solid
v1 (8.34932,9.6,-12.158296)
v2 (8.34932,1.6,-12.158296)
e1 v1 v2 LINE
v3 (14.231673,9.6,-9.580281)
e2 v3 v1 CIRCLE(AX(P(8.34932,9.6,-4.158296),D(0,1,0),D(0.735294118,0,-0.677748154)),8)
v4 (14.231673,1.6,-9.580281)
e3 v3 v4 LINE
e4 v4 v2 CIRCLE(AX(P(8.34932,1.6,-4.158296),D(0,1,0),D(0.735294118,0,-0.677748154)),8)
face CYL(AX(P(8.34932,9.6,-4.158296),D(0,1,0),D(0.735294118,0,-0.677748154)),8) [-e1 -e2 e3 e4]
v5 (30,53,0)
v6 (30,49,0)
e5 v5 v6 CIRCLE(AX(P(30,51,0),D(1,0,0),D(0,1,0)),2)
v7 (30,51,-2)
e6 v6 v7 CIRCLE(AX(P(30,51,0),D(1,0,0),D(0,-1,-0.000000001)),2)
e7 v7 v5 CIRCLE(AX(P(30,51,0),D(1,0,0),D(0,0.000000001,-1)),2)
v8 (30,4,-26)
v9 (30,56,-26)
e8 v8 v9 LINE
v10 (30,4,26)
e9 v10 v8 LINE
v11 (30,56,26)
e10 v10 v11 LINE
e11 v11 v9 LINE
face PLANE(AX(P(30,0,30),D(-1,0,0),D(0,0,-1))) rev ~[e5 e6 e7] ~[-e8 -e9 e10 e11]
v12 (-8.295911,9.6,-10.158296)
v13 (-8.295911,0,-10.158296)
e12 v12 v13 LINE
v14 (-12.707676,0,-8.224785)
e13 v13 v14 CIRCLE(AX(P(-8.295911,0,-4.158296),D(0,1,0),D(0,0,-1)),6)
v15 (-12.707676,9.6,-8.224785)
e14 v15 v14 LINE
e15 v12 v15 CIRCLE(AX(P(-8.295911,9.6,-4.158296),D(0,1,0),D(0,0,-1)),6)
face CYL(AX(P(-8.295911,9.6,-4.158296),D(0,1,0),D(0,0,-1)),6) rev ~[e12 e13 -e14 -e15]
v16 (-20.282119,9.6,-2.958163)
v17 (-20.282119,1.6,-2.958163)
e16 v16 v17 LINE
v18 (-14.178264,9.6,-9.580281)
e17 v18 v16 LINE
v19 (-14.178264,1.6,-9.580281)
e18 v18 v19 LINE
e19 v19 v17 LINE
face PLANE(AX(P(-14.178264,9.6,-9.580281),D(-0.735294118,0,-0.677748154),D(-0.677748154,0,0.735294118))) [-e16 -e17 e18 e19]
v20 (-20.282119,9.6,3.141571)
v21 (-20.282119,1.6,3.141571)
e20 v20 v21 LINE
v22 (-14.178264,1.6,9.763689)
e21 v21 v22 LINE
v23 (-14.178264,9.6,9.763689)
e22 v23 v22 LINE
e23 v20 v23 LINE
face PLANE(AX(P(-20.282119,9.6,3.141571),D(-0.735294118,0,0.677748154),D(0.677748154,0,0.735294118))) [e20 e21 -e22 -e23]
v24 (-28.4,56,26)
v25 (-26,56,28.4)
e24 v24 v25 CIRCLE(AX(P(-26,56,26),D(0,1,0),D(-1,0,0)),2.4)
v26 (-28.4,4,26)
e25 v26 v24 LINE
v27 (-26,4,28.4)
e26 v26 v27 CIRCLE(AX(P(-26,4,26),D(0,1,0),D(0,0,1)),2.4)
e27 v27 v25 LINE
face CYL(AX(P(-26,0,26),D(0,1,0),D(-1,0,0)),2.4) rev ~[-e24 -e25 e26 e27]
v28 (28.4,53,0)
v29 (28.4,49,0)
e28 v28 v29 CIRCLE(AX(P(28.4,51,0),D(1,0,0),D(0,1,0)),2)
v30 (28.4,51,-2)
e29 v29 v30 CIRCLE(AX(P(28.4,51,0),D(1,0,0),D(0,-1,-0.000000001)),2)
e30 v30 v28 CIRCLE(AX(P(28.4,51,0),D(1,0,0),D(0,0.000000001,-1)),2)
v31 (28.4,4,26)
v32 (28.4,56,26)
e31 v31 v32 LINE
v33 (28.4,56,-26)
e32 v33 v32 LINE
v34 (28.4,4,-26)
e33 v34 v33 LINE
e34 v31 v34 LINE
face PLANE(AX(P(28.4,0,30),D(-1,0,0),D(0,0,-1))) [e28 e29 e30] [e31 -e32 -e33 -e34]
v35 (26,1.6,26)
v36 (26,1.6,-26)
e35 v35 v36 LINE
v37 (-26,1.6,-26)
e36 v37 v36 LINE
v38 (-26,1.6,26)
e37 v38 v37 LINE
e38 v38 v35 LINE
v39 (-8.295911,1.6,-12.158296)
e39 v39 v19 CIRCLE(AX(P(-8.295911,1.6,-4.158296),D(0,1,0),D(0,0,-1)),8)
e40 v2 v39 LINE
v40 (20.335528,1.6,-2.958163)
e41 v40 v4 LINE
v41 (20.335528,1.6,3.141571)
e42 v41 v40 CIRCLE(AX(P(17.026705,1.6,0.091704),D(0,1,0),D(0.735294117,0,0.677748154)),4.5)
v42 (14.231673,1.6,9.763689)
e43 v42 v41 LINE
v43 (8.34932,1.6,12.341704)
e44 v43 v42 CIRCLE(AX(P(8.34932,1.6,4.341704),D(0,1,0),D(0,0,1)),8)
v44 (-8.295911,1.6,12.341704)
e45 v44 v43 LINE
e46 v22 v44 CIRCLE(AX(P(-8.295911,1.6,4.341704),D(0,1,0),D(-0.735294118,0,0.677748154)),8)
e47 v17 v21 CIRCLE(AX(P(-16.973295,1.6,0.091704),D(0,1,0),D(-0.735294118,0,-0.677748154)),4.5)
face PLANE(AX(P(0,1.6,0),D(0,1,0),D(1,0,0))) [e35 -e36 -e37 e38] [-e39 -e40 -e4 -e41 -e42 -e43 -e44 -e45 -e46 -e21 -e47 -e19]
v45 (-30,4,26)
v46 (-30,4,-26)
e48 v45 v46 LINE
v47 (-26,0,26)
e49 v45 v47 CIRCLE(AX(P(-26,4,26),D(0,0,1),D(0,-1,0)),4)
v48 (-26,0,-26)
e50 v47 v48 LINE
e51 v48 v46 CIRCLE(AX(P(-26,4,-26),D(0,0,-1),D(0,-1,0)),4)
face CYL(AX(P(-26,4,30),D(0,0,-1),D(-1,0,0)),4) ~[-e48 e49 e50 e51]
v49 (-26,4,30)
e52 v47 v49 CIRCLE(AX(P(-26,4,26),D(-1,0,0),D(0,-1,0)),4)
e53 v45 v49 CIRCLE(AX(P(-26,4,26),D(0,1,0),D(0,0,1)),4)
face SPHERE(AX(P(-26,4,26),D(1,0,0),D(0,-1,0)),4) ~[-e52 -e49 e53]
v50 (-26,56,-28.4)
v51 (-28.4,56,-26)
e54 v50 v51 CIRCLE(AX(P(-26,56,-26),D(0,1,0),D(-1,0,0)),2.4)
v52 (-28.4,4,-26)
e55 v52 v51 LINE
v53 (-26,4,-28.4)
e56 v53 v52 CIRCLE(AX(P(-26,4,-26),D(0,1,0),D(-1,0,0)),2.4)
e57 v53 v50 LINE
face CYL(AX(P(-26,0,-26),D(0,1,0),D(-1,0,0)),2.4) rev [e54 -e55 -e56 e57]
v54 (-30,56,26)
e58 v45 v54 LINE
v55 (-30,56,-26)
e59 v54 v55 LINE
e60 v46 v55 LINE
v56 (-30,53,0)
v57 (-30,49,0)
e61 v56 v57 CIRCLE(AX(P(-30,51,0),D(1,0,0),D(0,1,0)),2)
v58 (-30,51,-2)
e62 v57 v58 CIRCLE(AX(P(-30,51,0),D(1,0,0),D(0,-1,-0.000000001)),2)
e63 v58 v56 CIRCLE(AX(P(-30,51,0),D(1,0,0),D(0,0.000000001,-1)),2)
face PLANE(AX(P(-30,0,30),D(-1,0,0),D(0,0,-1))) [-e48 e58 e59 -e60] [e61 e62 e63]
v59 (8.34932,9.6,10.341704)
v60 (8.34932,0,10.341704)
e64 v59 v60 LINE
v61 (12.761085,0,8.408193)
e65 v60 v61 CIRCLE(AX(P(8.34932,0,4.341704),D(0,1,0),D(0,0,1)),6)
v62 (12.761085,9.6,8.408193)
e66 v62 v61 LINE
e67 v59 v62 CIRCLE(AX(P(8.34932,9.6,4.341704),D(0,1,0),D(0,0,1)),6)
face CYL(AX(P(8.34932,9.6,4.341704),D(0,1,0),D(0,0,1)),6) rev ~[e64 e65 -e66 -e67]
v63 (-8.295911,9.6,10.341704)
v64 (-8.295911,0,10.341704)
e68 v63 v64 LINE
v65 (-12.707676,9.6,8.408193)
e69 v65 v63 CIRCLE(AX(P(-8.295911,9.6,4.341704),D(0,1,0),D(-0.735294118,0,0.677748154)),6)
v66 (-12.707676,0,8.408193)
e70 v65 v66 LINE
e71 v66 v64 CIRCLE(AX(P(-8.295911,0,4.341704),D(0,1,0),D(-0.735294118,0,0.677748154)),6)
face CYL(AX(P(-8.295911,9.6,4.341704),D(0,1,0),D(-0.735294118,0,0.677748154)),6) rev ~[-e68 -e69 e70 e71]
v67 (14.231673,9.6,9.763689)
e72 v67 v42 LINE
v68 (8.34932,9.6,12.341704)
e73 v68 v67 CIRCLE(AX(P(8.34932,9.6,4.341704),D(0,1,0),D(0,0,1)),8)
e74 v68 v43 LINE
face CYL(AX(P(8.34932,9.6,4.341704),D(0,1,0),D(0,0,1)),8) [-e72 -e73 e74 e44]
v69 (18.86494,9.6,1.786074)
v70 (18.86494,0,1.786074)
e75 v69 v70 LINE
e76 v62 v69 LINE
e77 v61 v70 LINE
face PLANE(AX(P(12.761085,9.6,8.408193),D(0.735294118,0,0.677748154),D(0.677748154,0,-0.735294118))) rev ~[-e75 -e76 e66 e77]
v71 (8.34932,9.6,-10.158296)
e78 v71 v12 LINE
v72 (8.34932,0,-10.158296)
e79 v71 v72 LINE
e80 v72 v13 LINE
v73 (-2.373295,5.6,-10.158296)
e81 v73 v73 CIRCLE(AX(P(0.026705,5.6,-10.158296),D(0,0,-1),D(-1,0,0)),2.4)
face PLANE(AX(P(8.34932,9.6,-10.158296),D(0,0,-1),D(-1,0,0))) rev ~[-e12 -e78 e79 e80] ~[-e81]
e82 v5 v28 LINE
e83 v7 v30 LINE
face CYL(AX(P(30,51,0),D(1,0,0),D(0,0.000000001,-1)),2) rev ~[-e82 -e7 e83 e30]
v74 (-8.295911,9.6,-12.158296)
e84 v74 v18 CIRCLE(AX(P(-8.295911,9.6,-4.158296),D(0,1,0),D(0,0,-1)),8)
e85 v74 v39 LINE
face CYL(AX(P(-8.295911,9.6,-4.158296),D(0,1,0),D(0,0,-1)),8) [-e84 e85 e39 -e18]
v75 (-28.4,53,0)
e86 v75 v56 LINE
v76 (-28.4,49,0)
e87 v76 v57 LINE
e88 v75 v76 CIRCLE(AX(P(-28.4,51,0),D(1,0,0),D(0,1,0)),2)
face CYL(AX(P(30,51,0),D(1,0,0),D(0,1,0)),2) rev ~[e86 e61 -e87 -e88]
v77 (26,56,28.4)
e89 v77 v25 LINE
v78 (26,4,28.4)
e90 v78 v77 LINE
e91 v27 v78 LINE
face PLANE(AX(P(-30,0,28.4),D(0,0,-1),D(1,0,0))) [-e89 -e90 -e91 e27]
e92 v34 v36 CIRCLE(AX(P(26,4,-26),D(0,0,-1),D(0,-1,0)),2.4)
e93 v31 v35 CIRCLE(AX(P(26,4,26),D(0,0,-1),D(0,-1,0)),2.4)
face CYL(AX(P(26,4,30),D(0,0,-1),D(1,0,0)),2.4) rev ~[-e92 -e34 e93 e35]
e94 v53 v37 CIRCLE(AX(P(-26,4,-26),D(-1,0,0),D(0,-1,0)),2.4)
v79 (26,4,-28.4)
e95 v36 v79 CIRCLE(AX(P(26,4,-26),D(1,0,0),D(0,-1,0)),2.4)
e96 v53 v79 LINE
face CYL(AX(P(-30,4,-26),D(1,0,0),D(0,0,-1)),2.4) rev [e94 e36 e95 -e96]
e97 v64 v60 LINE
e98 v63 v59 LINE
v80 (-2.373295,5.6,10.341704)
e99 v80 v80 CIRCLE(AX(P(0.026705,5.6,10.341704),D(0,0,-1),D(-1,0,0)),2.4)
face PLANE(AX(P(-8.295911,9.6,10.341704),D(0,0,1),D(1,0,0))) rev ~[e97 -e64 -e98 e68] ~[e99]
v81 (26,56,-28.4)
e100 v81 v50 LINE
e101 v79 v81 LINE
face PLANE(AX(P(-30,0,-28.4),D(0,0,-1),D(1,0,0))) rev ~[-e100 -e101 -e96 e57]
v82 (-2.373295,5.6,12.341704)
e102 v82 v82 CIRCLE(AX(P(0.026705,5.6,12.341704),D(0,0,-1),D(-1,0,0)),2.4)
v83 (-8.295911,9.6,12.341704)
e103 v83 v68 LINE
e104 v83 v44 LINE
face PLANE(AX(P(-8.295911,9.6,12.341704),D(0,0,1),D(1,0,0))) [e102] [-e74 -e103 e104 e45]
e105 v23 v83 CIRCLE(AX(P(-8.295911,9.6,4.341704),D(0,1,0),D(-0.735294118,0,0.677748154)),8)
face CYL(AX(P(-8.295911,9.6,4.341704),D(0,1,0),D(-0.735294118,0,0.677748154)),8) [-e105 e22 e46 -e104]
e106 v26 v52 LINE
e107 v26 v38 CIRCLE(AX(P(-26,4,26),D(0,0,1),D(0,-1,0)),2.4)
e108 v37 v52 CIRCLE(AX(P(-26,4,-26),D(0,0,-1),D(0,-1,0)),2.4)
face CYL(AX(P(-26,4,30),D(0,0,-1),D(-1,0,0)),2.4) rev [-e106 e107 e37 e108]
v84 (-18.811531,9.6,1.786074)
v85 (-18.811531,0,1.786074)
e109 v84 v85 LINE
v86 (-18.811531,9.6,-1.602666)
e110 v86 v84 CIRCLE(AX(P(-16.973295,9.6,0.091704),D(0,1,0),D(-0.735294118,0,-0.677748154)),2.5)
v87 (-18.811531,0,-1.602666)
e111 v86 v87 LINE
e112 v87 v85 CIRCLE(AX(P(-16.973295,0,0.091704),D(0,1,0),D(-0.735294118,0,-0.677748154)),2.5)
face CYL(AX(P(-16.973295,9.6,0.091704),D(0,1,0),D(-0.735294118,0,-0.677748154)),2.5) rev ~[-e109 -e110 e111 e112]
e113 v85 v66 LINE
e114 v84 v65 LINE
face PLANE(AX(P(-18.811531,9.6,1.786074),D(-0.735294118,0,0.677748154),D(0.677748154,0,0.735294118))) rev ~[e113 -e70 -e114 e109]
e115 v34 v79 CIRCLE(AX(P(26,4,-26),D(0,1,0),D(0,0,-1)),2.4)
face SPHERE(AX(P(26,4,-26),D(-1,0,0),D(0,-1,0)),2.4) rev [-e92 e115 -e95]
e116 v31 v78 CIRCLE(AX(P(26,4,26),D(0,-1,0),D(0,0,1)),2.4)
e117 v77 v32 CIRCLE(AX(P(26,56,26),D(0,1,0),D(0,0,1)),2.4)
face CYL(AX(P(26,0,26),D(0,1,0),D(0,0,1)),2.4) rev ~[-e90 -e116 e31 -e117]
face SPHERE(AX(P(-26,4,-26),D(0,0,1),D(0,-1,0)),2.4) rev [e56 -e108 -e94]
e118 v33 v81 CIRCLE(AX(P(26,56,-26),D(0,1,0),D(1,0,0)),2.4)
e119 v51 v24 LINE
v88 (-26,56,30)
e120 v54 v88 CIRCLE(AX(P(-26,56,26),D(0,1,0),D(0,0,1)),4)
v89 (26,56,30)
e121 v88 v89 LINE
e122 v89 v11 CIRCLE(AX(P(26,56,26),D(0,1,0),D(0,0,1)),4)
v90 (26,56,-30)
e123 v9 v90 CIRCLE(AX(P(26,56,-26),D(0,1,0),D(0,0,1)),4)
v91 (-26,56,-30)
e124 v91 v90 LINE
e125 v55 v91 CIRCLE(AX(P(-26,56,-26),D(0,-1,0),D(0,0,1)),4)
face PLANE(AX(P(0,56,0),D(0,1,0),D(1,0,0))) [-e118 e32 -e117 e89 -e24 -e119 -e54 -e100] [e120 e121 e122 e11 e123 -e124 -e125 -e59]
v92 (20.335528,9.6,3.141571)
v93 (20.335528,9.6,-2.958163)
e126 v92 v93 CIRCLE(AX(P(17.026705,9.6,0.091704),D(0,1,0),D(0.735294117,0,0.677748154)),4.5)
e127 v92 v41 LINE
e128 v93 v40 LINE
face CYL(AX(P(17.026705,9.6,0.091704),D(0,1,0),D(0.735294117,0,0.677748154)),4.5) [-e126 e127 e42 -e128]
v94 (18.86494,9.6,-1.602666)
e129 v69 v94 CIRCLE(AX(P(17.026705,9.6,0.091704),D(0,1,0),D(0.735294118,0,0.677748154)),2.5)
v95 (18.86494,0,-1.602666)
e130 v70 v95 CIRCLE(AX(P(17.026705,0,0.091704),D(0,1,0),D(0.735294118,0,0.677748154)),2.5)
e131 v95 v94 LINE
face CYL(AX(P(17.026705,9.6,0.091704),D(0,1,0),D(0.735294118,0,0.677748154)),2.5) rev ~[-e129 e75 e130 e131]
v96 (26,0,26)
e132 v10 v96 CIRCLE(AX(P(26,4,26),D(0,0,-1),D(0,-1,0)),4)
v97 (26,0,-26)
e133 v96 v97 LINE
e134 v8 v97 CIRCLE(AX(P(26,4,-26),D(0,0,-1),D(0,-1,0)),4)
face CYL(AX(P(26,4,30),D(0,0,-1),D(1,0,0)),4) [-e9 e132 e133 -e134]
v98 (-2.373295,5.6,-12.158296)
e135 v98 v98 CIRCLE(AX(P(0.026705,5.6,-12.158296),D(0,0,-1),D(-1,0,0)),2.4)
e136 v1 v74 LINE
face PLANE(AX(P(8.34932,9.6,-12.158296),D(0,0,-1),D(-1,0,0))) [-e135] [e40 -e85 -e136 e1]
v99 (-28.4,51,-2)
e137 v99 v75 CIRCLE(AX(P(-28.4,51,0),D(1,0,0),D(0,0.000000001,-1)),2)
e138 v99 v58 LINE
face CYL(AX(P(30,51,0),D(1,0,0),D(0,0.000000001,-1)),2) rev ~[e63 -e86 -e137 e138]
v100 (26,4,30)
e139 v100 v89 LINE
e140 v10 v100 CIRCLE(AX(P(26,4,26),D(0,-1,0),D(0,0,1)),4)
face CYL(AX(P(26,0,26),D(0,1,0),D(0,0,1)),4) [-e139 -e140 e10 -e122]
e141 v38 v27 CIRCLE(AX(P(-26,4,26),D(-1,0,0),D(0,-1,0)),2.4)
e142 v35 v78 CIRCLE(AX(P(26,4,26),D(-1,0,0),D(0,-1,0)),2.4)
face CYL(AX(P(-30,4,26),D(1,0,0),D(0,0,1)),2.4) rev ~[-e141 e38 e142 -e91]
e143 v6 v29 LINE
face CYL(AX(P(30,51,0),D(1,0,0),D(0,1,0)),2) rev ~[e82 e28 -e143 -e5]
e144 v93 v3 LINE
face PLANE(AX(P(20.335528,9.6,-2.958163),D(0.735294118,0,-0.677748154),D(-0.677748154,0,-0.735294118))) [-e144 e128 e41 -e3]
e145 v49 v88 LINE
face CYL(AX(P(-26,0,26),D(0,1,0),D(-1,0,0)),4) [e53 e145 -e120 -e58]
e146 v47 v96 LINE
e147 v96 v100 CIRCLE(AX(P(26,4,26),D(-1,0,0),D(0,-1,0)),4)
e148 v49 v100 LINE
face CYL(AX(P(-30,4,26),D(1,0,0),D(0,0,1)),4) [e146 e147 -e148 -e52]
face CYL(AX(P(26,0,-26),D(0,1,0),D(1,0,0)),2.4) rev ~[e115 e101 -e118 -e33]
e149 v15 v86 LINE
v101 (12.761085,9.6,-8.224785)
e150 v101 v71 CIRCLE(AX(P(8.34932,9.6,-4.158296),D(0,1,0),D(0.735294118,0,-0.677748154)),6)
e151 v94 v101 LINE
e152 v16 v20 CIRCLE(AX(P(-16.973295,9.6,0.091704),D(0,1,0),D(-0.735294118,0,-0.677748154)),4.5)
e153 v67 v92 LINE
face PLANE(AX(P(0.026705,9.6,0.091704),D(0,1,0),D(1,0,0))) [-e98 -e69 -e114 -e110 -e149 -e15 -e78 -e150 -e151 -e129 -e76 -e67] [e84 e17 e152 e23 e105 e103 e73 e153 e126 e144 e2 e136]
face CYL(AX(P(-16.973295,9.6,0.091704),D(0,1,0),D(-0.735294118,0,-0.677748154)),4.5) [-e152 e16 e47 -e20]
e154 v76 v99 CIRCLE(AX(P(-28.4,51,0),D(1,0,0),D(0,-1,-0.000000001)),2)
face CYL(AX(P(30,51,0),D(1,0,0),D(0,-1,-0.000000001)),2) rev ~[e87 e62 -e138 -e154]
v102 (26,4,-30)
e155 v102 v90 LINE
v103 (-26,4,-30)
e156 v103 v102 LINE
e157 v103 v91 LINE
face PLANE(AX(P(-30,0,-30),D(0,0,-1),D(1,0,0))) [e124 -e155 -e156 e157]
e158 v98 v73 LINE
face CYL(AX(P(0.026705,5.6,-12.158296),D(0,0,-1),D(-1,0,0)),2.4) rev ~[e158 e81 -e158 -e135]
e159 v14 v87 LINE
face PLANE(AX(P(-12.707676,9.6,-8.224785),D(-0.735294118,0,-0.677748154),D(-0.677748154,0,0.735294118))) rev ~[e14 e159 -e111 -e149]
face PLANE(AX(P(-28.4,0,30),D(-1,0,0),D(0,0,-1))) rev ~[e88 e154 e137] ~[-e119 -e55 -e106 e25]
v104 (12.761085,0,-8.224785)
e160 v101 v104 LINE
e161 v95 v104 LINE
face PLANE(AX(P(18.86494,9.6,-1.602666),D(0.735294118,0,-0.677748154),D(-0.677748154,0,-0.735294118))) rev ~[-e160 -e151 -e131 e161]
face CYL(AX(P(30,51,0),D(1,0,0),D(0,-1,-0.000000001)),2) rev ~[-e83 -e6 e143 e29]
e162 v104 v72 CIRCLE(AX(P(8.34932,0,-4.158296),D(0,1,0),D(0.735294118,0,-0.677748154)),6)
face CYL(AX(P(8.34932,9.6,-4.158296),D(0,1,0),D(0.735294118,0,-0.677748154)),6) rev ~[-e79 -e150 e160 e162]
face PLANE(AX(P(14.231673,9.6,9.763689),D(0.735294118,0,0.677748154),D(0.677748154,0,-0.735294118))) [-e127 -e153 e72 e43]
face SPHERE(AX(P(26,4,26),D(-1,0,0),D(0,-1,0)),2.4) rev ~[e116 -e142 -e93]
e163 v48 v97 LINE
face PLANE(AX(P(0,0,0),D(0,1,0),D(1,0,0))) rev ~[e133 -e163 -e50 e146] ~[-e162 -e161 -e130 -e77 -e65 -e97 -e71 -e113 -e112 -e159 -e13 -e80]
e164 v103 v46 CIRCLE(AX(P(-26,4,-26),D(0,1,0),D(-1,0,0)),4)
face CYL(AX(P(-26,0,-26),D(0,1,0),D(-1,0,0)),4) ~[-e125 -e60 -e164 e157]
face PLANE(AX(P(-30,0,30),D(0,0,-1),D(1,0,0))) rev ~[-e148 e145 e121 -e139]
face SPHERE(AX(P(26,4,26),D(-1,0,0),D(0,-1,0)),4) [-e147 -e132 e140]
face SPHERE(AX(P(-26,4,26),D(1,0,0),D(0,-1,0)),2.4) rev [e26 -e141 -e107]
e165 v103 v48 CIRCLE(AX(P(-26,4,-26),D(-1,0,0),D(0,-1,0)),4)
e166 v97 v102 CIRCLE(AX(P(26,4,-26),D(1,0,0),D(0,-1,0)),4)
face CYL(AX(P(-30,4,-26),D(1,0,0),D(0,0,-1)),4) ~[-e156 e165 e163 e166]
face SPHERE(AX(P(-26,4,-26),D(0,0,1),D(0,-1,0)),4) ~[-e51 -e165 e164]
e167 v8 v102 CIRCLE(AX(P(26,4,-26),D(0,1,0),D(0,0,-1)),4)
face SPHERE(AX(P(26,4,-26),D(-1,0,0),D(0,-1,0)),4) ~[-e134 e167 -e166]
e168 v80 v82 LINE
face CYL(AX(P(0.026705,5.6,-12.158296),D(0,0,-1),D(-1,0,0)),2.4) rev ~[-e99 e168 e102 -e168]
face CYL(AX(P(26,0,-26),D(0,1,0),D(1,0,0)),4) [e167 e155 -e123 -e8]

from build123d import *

# Parameters (mm, degrees)
SKETCH1_W           = 60
SKETCH1_H           = 60
BOSS_EXTRUDE1_DEPTH = 56
FILLET1_R           = 4
SHELL1_T            = -1.6
CUT_EXTRUDE1_DEPTH  = 69.988114918
BOSS_EXTRUDE2_START = 8
BOSS_EXTRUDE2_DEPTH = 8
CUT_EXTRUDE2_REACH  = 78.245
SKETCH3_R           = 2.4
CUT_EXTRUDE3_REACH  = 89.384


with BuildPart() as part:
    # Sketch1 → Boss-Extrude1 (new body)
    with BuildSketch(Plane(origin=(0, 0, 0), x_dir=(1, 0, 0), z_dir=(0, 1, 0))):
        Rectangle(SKETCH1_W, SKETCH1_H)
    extrude(amount=BOSS_EXTRUDE1_DEPTH)

    # Fillet1
    fillet1_edges = [part.edges().sort_by_distance(p)[0] for p in [
        (0, 0, 30),
        (-30, 0, 0),
        (0, 0, -30),
        (30, 0, 0),
        (30, 28, 30),
        (-30, 28, 30),
        (-30, 28, -30),
        (30, 28, -30),
    ]]
    fillet(fillet1_edges, radius=FILLET1_R)

    # Shell1
    shell1_openings = [part.faces().sort_by_distance(p)[0] for p in [
        (0, 56, 0),
    ]]
    offset(amount=SHELL1_T, openings=shell1_openings, kind=Kind.INTERSECTION)

    # Sketch2 → Cut-Extrude1 (cut, through all)
    with BuildSketch(Plane(origin=(0, 1.6, 0), x_dir=(1, 0, 0), z_dir=(0, 1, 0))):
        with BuildLine():
            Line((18.864939852, 1.60266636), (12.761084932, 8.2247849))
            ThreePointArc((12.761084932, 8.2247849), (10.757749844, 9.653700125), (8.349320226, 10.158295975))
            Line((8.349320226, 10.158295975), (-8.295911111, 10.158295975))
            ThreePointArc((-8.295911111, 10.158295975), (-10.704340729, 9.653700125), (-12.707675817, 8.2247849))
            Line((-12.707675817, 8.2247849), (-18.811530736, 1.60266636))
            ThreePointArc((-18.811530736, 1.60266636), (-19.473295442, -0.091704025), (-18.811530736, -1.786074411))
            Line((-18.811530736, -1.786074411), (-12.707675817, -8.408192951))
            ThreePointArc((-12.707675817, -8.408192951), (-10.704340729, -9.837108176), (-8.295911111, -10.341704025))
            Line((-8.295911111, -10.341704025), (8.349320226, -10.341704025))
            ThreePointArc((8.349320226, -10.341704025), (10.757749844, -9.837108176), (12.761084932, -8.408192951))
            Line((12.761084932, -8.408192951), (18.864939852, -1.786074411))
            ThreePointArc((18.864939852, -1.786074411), (19.526704558, -0.091704025), (18.864939852, 1.60266636))
        make_face()
    extrude(amount=-CUT_EXTRUDE1_DEPTH, mode=Mode.SUBTRACT)

    # Sketch2<4> → Boss-Extrude2 (add)
    with BuildSketch(Plane(origin=(0, 1.6, 0), x_dir=(1, 0, 0), z_dir=(0, 1, 0)).offset(BOSS_EXTRUDE2_START)):
        with BuildLine():
            Line((20.335528087, 2.958162669), (14.231673168, 9.580281209))
            ThreePointArc((14.231673168, 9.580281209), (11.560559717, 11.485501509), (8.349320226, 12.158295975))
            Line((8.349320226, 12.158295975), (-8.295911111, 12.158295975))
            ThreePointArc((-8.295911111, 12.158295975), (-11.507150601, 11.485501509), (-14.178264052, 9.580281209))
            Line((-14.178264052, 9.580281209), (-20.282118972, 2.958162669))
            ThreePointArc((-20.282118972, 2.958162669), (-21.473295442, -0.091704025), (-20.282118972, -3.141570719))
            Line((-20.282118972, -3.141570719), (-14.178264052, -9.763689259))
            ThreePointArc((-14.178264052, -9.763689259), (-11.507150601, -11.668909559), (-8.295911111, -12.341704025))
            Line((-8.295911111, -12.341704025), (8.349320226, -12.341704025))
            ThreePointArc((8.349320226, -12.341704025), (11.560559717, -11.668909559), (14.231673168, -9.763689259))
            Line((14.231673168, -9.763689259), (20.335528087, -3.141570719))
            ThreePointArc((20.335528087, -3.141570719), (21.526704558, -0.091704025), (20.335528087, 2.958162669))
        make_face()
        with BuildLine():
            Line((18.864939852, 1.60266636), (12.761084932, 8.2247849))
            ThreePointArc((12.761084932, 8.2247849), (10.757749844, 9.653700125), (8.349320226, 10.158295975))
            Line((8.349320226, 10.158295975), (-8.295911111, 10.158295975))
            ThreePointArc((-8.295911111, 10.158295975), (-10.704340729, 9.653700125), (-12.707675817, 8.2247849))
            Line((-12.707675817, 8.2247849), (-18.811530736, 1.60266636))
            ThreePointArc((-18.811530736, 1.60266636), (-19.473295442, -0.091704025), (-18.811530736, -1.786074411))
            Line((-18.811530736, -1.786074411), (-12.707675817, -8.408192951))
            ThreePointArc((-12.707675817, -8.408192951), (-10.704340729, -9.837108176), (-8.295911111, -10.341704025))
            Line((-8.295911111, -10.341704025), (8.349320226, -10.341704025))
            ThreePointArc((8.349320226, -10.341704025), (10.757749844, -9.837108176), (12.761084932, -8.408192951))
            Line((12.761084932, -8.408192951), (18.864939852, -1.786074411))
            ThreePointArc((18.864939852, -1.786074411), (19.526704558, -0.091704025), (18.864939852, 1.60266636))
        make_face(mode=Mode.SUBTRACT)
    extrude(amount=-BOSS_EXTRUDE2_DEPTH)

    # Cut-Extrude2: up to this face of the body (flat: up to its plane)
    cut_extrude2_end = Plane(part.part.faces().sort_by_distance((0.026704558, 5.6, 12.341704025))[0])
    # Sketch3 → Cut-Extrude2 (cut, up to the picked face)
    with BuildSketch(Plane(origin=(0, 0, -12.158295975), x_dir=(-1, 0, 0), z_dir=(0, 0, -1)), mode=Mode.PRIVATE) as cut_extrude2_sk1:
        with Locations((-0.026704558, 5.6)):
            Circle(SKETCH3_R)
    cut_extrude2_tool1 = split(extrude(cut_extrude2_sk1.sketch, amount=-CUT_EXTRUDE2_REACH, mode=Mode.PRIVATE), bisect_by=cut_extrude2_end, keep=Keep.BOTH, mode=Mode.PRIVATE)
    add(cut_extrude2_tool1.solids().sort_by(Axis((0.026705, 5.6, -12.158296), (0, 0, 1)))[0], mode=Mode.SUBTRACT)

    # Cut-Extrude3: up to this face of the body (flat: up to its plane)
    cut_extrude3_end = Plane(part.part.faces().sort_by_distance((-30, 30, 0))[0])
    # Sketch4 → Cut-Extrude3 (cut, up to the picked face)
    with BuildSketch(Plane(origin=(30, 0, 0), x_dir=(0, 0, -1), z_dir=(1, 0, 0)), mode=Mode.PRIVATE) as cut_extrude3_sk1:
        with BuildLine():
            ThreePointArc((2, 51), (1.414213562, 52.414213562), (0, 53))
            Line((0, 53), (0, 49))
            ThreePointArc((0, 49), (1.414213562, 49.585786438), (2, 51))
        make_face()
    cut_extrude3_tool1 = split(extrude(cut_extrude3_sk1.sketch, amount=-CUT_EXTRUDE3_REACH, mode=Mode.PRIVATE), bisect_by=cut_extrude3_end, keep=Keep.BOTH, mode=Mode.PRIVATE)
    # Sketch4 → Cut-Extrude3 (cut, up to the picked face)
    with BuildSketch(Plane(origin=(30, 0, 0), x_dir=(0, 0, -1), z_dir=(1, 0, 0)), mode=Mode.PRIVATE) as cut_extrude3_sk2:
        with BuildLine():
            Line((0, 49), (0, 53))
            ThreePointArc((0, 53), (-2, 51), (0, 49))
        make_face()
    cut_extrude3_tool2 = split(extrude(cut_extrude3_sk2.sketch, amount=-CUT_EXTRUDE3_REACH, mode=Mode.PRIVATE), bisect_by=cut_extrude3_end, keep=Keep.BOTH, mode=Mode.PRIVATE)
    # Sketch4 → Cut-Extrude3 (cut, up to the picked face)
    with BuildSketch(Plane(origin=(30, 0, 0), x_dir=(0, 0, -1), z_dir=(1, 0, 0)), mode=Mode.PRIVATE) as cut_extrude3_sk3:
        with BuildLine():
            ThreePointArc((2, 51), (1.414213562, 52.414213562), (0, 53))
            Line((0, 53), (0, 49))
            ThreePointArc((0, 49), (1.414213562, 49.585786438), (2, 51))
        make_face()
    cut_extrude3_tool3 = split(extrude(cut_extrude3_sk3.sketch, amount=-CUT_EXTRUDE3_REACH, mode=Mode.PRIVATE), bisect_by=cut_extrude3_end, keep=Keep.BOTH, mode=Mode.PRIVATE)
    # Sketch4 → Cut-Extrude3 (cut, up to the picked face)
    with BuildSketch(Plane(origin=(30, 0, 0), x_dir=(0, 0, -1), z_dir=(1, 0, 0)), mode=Mode.PRIVATE) as cut_extrude3_sk4:
        with BuildLine():
            Line((0, 49), (0, 53))
            ThreePointArc((0, 53), (-2, 51), (0, 49))
        make_face()
    cut_extrude3_tool4 = split(extrude(cut_extrude3_sk4.sketch, amount=-CUT_EXTRUDE3_REACH, mode=Mode.PRIVATE), bisect_by=cut_extrude3_end, keep=Keep.BOTH, mode=Mode.PRIVATE)
    add(cut_extrude3_tool1.solids().sort_by(Axis((30, 51, -0.848826), (-1, 0, 0)))[0], mode=Mode.SUBTRACT)
    add(cut_extrude3_tool2.solids().sort_by(Axis((30, 51, 0.848826), (-1, 0, 0)))[0], mode=Mode.SUBTRACT)
    add(cut_extrude3_tool3.solids().sort_by(Axis((30, 51, -0.848826), (-1, 0, 0)))[0], mode=Mode.SUBTRACT)
    add(cut_extrude3_tool4.solids().sort_by(Axis((30, 51, 0.848826), (-1, 0, 0)))[0], mode=Mode.SUBTRACT)


solid = part.part
